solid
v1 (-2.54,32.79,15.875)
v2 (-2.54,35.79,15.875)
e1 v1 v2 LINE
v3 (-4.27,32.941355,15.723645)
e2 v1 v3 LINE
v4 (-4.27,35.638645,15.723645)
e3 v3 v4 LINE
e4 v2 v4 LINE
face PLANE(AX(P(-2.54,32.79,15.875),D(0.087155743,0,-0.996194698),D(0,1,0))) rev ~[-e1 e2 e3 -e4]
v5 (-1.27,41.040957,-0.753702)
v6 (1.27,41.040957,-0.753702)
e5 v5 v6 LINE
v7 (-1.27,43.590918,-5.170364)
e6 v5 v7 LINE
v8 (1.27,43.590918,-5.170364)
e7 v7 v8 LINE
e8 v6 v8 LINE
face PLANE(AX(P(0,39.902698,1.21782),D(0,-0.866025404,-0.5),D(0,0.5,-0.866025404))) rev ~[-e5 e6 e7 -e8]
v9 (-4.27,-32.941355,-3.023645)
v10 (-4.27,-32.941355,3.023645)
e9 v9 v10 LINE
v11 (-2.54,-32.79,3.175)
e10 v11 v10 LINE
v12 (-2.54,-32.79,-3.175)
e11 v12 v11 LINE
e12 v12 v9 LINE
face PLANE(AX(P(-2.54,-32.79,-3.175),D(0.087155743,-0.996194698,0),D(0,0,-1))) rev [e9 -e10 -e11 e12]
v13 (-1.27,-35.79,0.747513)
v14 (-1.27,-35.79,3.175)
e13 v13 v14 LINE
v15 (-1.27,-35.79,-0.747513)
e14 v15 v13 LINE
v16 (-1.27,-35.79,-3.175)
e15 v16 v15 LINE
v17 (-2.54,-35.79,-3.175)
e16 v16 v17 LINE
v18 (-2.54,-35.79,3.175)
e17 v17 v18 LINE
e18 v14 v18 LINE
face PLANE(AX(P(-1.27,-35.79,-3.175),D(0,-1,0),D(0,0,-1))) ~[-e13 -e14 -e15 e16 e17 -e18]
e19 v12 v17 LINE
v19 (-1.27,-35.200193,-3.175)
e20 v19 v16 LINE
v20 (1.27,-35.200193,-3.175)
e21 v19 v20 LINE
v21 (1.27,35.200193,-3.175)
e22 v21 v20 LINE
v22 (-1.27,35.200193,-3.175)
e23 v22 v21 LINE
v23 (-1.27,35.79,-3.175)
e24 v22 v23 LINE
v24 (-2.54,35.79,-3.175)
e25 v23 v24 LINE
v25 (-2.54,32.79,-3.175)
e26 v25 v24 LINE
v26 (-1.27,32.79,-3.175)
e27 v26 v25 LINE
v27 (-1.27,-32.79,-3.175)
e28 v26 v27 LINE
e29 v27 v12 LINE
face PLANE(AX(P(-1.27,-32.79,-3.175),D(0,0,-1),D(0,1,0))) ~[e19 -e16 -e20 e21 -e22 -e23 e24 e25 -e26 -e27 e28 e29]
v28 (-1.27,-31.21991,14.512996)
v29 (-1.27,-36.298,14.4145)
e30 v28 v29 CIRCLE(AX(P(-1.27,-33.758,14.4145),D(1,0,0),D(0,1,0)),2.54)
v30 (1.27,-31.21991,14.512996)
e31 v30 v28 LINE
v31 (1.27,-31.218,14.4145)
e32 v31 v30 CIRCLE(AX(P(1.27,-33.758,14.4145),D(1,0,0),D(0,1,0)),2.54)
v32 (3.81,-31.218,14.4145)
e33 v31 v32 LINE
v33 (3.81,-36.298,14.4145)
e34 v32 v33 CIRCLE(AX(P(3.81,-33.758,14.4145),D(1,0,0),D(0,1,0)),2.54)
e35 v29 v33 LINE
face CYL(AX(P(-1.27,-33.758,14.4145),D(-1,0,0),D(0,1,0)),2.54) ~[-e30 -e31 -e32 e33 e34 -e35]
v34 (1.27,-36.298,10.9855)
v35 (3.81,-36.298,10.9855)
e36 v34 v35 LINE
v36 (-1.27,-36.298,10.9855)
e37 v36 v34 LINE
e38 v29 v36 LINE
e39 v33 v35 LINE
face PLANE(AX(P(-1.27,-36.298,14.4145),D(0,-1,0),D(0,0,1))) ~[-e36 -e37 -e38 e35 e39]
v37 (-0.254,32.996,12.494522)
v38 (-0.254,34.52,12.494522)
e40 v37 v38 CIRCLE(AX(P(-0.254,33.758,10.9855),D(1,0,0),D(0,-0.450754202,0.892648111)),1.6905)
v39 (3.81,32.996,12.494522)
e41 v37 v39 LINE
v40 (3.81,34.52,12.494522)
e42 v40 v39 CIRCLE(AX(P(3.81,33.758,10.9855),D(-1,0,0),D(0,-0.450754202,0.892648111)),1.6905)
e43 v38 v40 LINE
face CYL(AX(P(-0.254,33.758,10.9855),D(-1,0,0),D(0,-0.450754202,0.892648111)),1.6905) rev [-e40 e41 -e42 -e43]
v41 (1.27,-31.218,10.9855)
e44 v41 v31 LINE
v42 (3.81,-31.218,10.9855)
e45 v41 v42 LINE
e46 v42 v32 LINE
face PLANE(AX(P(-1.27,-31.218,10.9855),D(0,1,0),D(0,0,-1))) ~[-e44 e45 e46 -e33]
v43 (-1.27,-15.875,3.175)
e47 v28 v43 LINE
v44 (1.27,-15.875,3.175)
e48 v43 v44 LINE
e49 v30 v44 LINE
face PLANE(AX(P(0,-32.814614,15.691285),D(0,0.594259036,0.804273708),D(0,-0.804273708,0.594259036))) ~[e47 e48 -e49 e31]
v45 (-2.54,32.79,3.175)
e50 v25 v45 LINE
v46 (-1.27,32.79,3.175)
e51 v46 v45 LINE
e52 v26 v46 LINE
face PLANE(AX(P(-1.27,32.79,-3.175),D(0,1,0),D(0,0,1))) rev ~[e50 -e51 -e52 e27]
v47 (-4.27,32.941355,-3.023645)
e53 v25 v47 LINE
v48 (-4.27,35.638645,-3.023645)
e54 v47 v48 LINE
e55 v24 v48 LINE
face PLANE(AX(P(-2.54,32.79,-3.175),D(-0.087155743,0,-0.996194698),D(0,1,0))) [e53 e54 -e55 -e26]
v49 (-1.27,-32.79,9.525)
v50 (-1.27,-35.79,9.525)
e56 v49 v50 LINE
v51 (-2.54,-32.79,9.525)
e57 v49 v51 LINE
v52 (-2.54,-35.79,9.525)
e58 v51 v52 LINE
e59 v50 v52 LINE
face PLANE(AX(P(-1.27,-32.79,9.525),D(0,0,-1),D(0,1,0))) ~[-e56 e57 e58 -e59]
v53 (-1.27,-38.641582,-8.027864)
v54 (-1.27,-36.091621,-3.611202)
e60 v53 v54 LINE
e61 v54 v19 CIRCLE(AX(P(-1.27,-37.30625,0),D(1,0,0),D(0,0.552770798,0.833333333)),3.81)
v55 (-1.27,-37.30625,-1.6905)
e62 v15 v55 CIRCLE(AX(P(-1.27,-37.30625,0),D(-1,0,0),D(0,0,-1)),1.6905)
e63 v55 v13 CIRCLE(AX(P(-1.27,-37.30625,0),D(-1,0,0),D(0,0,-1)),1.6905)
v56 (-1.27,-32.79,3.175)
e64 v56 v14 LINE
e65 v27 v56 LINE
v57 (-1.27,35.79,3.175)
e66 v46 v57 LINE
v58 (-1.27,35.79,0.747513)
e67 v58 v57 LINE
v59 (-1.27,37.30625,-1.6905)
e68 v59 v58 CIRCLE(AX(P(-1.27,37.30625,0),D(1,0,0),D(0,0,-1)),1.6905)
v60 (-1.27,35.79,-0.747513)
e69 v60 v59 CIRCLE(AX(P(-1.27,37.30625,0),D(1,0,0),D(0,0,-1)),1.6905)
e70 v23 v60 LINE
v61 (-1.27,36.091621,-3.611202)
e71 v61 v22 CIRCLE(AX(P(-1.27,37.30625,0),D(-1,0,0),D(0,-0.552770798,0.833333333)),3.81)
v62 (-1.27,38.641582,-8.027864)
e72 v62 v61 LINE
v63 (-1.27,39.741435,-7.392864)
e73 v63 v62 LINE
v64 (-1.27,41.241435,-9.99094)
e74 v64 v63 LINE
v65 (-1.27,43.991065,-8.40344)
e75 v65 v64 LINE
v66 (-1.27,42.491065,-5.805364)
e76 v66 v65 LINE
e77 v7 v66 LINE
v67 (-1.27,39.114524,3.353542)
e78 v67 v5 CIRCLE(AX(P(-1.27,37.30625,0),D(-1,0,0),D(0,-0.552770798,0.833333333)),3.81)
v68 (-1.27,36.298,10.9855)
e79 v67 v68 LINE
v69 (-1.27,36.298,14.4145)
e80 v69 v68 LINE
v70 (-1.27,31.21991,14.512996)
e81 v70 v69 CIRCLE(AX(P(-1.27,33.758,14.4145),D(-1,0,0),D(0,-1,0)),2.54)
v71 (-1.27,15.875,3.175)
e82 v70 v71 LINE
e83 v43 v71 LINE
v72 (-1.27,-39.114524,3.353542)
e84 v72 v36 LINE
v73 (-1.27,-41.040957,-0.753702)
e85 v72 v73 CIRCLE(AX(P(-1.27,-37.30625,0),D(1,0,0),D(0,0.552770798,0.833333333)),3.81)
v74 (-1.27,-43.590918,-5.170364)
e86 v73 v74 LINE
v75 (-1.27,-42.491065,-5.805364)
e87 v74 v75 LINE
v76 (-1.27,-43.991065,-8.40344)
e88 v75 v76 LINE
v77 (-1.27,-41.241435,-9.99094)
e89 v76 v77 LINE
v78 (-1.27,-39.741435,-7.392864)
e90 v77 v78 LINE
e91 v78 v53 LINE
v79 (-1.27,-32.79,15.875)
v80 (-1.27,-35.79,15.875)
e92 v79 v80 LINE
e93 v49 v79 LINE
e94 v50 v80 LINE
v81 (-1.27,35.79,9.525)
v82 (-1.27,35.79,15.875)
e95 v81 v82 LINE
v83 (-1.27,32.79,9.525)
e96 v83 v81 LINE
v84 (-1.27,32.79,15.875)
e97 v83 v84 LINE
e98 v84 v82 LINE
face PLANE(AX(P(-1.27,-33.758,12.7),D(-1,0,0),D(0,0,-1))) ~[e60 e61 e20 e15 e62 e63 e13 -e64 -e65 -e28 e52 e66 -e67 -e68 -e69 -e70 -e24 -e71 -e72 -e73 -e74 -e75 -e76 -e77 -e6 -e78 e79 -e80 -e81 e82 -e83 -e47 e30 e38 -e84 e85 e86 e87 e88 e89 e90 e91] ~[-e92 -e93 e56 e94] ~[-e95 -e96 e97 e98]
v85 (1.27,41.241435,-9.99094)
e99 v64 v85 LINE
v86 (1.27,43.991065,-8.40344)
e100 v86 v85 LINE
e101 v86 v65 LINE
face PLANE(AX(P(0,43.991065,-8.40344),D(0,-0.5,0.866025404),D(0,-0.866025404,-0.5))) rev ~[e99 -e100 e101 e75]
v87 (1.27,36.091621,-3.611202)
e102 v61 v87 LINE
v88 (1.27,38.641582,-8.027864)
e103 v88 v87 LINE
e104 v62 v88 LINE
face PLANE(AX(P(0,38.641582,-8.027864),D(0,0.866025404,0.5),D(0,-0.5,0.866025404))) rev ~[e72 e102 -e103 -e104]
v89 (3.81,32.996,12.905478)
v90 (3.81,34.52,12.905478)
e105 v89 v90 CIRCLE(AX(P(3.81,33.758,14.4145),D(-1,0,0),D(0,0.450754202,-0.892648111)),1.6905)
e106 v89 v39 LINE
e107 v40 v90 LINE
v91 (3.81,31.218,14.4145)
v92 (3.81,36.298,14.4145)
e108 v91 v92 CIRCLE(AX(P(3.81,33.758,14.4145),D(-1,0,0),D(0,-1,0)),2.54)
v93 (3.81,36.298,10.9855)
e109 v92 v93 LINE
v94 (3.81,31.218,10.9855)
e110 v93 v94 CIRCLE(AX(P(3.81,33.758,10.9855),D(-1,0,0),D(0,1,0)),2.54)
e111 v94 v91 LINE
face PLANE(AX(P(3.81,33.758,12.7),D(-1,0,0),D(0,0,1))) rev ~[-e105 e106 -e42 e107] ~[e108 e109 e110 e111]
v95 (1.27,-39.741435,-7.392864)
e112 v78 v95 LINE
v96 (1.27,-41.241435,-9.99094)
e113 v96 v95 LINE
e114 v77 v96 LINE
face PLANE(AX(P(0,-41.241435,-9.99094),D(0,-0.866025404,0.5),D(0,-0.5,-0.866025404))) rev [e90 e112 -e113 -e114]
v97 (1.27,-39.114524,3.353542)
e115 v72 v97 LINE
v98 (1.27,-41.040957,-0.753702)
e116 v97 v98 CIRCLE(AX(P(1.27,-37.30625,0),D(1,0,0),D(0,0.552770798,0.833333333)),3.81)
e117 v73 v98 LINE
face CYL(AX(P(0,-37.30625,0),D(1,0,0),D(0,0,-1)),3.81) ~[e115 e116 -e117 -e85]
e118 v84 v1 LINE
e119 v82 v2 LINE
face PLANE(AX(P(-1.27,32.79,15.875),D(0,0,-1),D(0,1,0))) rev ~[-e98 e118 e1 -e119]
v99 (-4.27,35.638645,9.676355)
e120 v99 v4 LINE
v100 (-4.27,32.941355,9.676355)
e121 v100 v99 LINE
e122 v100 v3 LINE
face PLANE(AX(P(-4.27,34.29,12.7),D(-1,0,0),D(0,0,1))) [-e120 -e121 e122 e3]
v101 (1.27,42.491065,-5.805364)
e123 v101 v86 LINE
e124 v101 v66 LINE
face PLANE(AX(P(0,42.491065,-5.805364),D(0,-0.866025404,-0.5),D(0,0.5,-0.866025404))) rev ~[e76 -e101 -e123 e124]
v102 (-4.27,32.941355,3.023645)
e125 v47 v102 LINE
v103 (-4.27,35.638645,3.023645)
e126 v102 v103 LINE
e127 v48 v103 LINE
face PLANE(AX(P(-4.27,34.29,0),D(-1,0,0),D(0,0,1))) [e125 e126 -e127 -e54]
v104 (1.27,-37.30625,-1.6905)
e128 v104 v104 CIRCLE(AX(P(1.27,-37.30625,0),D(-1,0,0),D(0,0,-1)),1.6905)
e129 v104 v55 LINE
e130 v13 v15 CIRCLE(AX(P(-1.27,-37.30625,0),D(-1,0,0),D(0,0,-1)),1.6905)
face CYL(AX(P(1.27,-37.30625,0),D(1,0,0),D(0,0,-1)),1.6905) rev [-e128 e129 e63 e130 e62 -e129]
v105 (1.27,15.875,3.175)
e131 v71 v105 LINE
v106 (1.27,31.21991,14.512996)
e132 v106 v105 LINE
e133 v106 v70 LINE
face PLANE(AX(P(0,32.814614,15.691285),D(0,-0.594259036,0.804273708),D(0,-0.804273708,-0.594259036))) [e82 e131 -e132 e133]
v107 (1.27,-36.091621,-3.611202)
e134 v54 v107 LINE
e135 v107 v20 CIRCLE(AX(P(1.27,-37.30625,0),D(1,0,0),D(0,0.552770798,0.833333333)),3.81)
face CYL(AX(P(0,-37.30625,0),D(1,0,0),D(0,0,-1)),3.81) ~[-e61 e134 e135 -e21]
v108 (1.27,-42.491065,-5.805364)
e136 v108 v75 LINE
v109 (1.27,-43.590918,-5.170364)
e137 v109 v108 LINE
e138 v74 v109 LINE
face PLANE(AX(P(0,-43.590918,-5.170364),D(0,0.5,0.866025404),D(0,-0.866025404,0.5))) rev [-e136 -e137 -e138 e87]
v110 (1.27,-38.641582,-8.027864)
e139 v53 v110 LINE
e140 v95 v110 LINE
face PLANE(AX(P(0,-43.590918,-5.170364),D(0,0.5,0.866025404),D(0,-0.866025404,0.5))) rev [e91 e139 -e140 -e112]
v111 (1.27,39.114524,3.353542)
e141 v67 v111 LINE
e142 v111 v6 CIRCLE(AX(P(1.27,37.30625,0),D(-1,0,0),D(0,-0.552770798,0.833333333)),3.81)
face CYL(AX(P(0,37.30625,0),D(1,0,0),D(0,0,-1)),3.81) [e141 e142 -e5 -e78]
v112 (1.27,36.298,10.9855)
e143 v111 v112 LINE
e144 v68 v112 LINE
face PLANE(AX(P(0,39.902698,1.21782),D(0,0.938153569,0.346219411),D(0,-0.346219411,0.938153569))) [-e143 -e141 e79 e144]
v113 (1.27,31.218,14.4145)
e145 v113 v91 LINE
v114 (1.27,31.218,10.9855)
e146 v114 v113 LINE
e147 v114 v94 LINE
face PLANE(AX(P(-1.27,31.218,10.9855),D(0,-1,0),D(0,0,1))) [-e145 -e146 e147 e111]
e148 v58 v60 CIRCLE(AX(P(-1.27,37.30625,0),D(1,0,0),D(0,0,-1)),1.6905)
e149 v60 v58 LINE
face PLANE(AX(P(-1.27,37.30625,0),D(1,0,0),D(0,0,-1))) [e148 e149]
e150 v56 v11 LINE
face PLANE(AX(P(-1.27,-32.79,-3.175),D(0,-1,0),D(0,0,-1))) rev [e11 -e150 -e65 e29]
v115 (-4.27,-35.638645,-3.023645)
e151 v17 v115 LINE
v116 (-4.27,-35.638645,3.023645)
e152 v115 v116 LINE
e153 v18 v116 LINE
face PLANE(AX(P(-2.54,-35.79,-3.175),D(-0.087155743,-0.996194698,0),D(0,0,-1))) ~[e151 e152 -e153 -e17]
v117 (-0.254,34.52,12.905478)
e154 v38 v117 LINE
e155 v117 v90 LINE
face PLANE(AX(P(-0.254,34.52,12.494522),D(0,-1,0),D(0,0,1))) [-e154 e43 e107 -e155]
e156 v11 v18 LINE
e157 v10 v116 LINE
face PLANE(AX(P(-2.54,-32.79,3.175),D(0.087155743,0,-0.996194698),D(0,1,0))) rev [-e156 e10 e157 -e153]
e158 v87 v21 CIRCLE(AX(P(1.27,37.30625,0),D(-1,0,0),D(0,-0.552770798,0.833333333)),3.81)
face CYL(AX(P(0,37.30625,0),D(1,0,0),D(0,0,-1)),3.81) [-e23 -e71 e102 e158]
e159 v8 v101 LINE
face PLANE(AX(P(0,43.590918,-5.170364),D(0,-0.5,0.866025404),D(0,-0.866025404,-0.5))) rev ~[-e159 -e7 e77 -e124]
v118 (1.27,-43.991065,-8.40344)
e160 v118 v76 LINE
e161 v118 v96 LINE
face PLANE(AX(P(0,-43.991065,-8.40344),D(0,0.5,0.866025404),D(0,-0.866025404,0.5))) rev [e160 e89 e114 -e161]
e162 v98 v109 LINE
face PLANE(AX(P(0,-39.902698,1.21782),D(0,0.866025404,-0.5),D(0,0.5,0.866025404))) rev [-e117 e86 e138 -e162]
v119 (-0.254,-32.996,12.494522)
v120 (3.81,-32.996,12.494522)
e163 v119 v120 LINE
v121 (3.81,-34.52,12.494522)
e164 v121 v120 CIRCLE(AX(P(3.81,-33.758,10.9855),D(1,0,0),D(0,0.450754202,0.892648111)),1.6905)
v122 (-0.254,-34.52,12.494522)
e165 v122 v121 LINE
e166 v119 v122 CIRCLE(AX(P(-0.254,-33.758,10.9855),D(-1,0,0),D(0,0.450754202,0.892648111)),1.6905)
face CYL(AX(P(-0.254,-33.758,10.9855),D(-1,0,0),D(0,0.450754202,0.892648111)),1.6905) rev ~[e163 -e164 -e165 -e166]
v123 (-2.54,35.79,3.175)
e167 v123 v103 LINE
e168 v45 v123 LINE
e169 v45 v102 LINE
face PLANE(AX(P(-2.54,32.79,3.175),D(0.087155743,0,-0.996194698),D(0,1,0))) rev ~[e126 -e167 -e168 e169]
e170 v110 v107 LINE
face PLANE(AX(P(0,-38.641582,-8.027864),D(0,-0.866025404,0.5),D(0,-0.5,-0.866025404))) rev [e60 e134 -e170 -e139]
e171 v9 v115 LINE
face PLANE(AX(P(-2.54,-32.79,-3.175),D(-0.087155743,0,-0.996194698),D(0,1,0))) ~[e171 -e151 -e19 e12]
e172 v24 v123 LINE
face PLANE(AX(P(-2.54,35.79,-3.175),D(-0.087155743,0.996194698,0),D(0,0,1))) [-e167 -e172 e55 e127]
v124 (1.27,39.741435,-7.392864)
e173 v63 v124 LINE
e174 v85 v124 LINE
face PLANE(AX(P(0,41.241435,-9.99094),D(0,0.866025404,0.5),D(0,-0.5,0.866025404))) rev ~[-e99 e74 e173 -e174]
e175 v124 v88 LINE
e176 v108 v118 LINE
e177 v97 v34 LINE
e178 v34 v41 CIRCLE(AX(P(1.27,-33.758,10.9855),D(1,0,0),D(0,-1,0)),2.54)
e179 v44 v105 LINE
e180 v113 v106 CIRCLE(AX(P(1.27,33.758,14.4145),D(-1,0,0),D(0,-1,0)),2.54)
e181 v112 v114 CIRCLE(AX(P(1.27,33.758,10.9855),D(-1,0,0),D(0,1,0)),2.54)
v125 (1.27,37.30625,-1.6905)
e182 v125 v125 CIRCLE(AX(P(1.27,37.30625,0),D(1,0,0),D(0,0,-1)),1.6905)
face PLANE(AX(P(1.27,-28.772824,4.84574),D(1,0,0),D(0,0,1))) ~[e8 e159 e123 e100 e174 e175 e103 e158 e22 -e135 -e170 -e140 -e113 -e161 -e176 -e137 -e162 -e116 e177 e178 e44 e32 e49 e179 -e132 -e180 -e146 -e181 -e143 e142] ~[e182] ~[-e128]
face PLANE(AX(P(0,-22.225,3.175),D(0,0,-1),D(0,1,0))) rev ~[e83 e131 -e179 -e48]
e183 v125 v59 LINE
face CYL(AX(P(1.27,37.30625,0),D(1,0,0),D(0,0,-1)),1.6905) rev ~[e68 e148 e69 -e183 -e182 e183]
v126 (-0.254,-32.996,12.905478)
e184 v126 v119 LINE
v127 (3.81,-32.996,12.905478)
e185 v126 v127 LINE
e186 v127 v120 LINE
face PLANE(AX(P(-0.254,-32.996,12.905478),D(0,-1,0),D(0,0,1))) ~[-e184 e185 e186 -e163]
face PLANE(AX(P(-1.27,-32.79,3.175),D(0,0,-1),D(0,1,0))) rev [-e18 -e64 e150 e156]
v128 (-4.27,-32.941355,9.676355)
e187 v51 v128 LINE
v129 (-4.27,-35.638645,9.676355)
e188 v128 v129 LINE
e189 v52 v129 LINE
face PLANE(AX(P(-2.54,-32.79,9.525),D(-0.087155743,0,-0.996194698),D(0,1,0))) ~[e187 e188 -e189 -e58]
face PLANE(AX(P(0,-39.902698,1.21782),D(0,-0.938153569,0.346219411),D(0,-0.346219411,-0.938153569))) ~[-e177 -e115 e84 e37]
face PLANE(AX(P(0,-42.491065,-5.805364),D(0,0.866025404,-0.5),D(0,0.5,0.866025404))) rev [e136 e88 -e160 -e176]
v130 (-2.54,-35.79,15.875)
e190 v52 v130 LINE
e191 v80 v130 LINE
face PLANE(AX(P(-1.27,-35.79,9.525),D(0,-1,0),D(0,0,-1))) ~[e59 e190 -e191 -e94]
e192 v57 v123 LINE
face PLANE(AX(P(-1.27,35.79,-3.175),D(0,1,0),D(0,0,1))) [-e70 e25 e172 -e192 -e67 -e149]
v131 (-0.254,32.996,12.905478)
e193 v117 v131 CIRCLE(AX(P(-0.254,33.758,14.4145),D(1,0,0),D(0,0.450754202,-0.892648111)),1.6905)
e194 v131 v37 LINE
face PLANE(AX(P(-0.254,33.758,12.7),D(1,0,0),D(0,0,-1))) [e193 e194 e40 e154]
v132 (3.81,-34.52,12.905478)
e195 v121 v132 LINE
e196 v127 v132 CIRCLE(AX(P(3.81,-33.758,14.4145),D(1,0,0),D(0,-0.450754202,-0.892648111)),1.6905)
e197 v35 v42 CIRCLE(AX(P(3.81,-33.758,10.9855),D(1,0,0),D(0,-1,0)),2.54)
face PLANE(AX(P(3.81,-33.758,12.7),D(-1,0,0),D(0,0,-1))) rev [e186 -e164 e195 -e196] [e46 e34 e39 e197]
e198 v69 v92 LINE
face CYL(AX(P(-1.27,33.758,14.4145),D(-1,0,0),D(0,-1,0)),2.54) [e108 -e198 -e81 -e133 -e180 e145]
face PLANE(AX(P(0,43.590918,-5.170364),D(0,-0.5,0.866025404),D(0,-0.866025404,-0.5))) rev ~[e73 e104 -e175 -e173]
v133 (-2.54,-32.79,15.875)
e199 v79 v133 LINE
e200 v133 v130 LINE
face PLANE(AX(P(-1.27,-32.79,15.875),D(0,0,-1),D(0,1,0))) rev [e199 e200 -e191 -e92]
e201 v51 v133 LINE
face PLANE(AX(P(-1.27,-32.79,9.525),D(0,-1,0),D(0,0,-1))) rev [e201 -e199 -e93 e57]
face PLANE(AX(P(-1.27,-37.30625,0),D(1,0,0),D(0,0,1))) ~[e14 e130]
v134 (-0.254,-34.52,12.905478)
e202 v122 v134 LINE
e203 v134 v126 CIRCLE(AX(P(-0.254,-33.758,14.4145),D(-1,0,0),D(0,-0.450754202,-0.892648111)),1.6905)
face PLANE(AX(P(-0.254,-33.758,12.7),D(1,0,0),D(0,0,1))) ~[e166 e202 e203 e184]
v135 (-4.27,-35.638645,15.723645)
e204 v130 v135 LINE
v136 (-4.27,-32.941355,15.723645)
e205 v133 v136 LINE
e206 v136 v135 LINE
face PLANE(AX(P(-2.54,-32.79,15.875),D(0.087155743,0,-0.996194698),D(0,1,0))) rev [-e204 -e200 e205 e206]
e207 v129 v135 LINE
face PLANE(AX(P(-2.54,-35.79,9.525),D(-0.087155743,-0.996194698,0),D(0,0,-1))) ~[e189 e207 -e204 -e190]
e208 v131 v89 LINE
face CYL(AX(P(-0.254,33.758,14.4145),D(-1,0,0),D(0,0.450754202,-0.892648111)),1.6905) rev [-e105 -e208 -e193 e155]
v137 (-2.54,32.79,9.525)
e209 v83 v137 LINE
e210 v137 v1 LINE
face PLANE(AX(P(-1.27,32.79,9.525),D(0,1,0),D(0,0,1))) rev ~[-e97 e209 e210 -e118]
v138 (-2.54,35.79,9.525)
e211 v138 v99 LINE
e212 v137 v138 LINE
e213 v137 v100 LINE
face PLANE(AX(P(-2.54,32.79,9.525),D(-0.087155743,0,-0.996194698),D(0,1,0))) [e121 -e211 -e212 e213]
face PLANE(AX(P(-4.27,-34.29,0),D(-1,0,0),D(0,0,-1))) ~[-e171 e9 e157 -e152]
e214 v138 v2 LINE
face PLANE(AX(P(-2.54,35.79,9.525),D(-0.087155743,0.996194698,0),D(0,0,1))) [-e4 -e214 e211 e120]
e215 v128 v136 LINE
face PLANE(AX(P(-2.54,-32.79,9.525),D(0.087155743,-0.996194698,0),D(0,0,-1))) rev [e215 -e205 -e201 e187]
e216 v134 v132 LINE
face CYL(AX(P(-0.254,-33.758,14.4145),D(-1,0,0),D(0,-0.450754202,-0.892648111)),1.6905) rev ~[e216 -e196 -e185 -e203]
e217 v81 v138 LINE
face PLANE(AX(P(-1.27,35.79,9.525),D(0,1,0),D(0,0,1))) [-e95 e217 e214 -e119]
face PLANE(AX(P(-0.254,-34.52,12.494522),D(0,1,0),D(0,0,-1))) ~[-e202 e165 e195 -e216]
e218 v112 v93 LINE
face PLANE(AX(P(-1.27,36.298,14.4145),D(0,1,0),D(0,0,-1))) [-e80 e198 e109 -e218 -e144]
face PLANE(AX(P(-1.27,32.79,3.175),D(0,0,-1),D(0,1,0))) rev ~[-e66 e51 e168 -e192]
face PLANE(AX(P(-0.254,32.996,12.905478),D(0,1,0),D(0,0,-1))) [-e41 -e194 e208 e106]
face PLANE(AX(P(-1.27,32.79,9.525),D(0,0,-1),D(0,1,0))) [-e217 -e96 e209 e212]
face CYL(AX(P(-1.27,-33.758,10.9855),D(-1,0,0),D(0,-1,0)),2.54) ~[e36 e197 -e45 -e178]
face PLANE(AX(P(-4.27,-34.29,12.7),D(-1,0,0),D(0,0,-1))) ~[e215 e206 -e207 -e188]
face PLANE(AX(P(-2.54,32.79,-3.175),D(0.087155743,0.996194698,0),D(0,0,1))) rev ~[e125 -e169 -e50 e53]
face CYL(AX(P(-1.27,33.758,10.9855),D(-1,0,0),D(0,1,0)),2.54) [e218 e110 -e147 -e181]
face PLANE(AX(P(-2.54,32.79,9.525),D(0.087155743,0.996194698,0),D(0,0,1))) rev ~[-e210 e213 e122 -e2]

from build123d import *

# Parameters (mm, degrees)
SKETCH3_R                   = 3.81
DOWELSUPPORT_DEPTH          = 1.27
SKETCH5_W                   = 6.35
SKETCH5_H                   = 44.45
SLIDERDOWELSUPPORT_DEPTH    = 1.27
LATERALSUPPORT_DEPTH        = 1.27
SKETCH8_W                   = 6.35
SKETCH8_H                   = 3
TABSUPPORT_DEPTH            = 1.27
STRINGDOWELSUPPORT_START    = -1.27
STRINGDOWELSUPPORT_DEPTH    = 5.08
INTERSUPPORT_DEPTH          = 1.27
SKETCH10_W                  = 6.35
SKETCH10_H                  = 3
TABBASE_DEPTH               = 1.27
SKETCH12_W                  = 6.35
SKETCH12_H                  = 3
TABDRAFT_DEPTH              = 1.73
TABDRAFT_DRAFT              = 5
TABDRAFT_PROFILE_2_DEPTH    = 1.73
TABDRAFT_PROFILE_2_DRAFT    = 5
STRINGDOWELHOLES_DEPTH      = 48.469574456
STRINGDOWELHOLES_DEPTH_BACK = 1.524
SKETCH14_R                  = 1.690500048
PULLEYDOWELHOLE_DEPTH       = 2.54


with BuildPart() as part:
    # Sketch3 → DowelSupport (new, symmetric)
    with BuildSketch(Plane(origin=(0, 0, 0), x_dir=(0, 0, -1), z_dir=(1, 0, 0))):
        with Locations((0, 37.30625)):
            Circle(SKETCH3_R)
    extrude(amount=DOWELSUPPORT_DEPTH, both=True)

    # Sketch8 → TabSupport (add, symmetric)
    with BuildSketch(Plane(origin=(0, 0, 0), x_dir=(0, 0, -1), z_dir=(1, 0, 0))):
        with Locations((0, 34.29)):
            Rectangle(SKETCH8_W, SKETCH8_H)
        with Locations((-12.7, 34.29)):
            Rectangle(SKETCH8_W, SKETCH8_H)
    extrude(amount=TABSUPPORT_DEPTH, both=True)


with BuildPart() as body_2:
    # Sketch5 → SliderDowelSupport (new, symmetric)
    with BuildSketch(Plane(origin=(0, 0, 0), x_dir=(0, 0, -1), z_dir=(1, 0, 0))):
        Rectangle(SKETCH5_W, SKETCH5_H)
    extrude(amount=SLIDERDOWELSUPPORT_DEPTH, both=True)



with BuildPart() as body_3:
    # Sketch6 → LateralSupport (new, symmetric)
    with BuildSketch(Plane(origin=(0, 0, 0), x_dir=(0, 0, -1), z_dir=(1, 0, 0))):
        Polygon((7.392863577, 39.741434671), (5.805363577, 42.491065329), (8.403439788, 43.991065329), (9.990939788, 41.241434671), align=None)
    extrude(amount=LATERALSUPPORT_DEPTH, both=True)


with BuildPart() as tabsupport_piece_1:
    # of the separate pieces the step leaves, piece 1, a body of its own (tabsupport_pieces)
    add(part.part.solids().sort_by_distance((1.27, 35.200193258, 3.175))[0])


with BuildPart() as tabsupport_piece_2:
    # of the separate pieces the step leaves, piece 2, a body of its own (tabsupport_pieces)
    add(part.part.solids().sort_by_distance((-1.27, 32.79, 9.525))[0])

    # Sketch15 → StringDowelSupport (add)
    with BuildSketch(Plane(origin=(0, 0, 0), x_dir=(0, 0, -1), z_dir=(1, 0, 0)).offset(STRINGDOWELSUPPORT_START)):
        with BuildLine():
            Line((-14.4145, 36.298), (-10.9855, 36.298))
            ThreePointArc((-10.9855, 36.298), (-8.4455, 33.758), (-10.9855, 31.218))
            Line((-10.9855, 31.218), (-14.4145, 31.218))
            ThreePointArc((-14.4145, 31.218), (-16.9545, 33.758), (-14.4145, 36.298))
        make_face()
    extrude(amount=STRINGDOWELSUPPORT_DEPTH)


with BuildPart() as body_2_1:
    add(body_2.part)

    add(body_3.part)  # InterSupport merges body 3

    add(tabsupport_piece_1.part)  # InterSupport merges TabSupport piece 1

    add(tabsupport_piece_2.part)  # InterSupport merges TabSupport piece 2
    # Sketch7 → InterSupport (add, symmetric)
    with BuildSketch(Plane(origin=(0, 0, 0), x_dir=(0, 0, -1), z_dir=(1, 0, 0))):
        Polygon((-15.691284512, 32.81461378), (-3.175, 15.875), (-3.175, 22.225), (3.175, 22.225), (3.175, 32.79), (0.989321966, 34.625476176), (-0.989321966, 39.987023824), (-10.9855, 36.298), (-14.4145, 36.298), align=None)
        Polygon((5.170363577, 43.590917591), (8.027863577, 38.641582409), (1.42875, 34.831582409), (-1.42875, 39.780917591), align=None)
    extrude(amount=INTERSUPPORT_DEPTH, both=True)

    # Sketch10 → TabBase (add)
    with BuildSketch(Plane.ZY.offset(1.27)):
        with Locations((0, 34.29)):
            Rectangle(SKETCH10_W, SKETCH10_H)
        with Locations((12.7, 34.29)):
            Rectangle(SKETCH10_W, SKETCH10_H)
    extrude(amount=TABBASE_DEPTH)


with BuildPart() as tabdraft_tool:
    # Sketch12 → TabDraft (with draft: the straight prism first)
    with BuildSketch(Plane.ZY.offset(2.54)):
        with Locations((0, 34.29)):
            Rectangle(SKETCH12_W, SKETCH12_H)
    extrude(amount=TABDRAFT_DEPTH)
    # TabDraft: the draft: its side faces are tilted about the plane it starts from
    tabdraft_sides = [tabdraft_tool.faces().sort_by_distance(p)[0] for p in [
        (-3.405, 34.29, 3.175),
        (-3.405, 35.79, 0),
        (-3.405, 34.29, -3.175),
        (-3.405, 32.79, 0),
    ]]
    draft(tabdraft_sides, Plane.ZY.offset(2.54), TABDRAFT_DRAFT)


with BuildPart() as body_2_2:
    add(body_2_1.part)

    # TabDraft: add tabdraft_tool
    add(tabdraft_tool.part)


with BuildPart() as tabdraft_profile_2_tool:
    # Sketch12 → TabDraft profile 2 (with draft: the straight prism first)
    with BuildSketch(Plane.ZY.offset(2.54)):
        with Locations((12.7, 34.29)):
            Rectangle(SKETCH12_W, SKETCH12_H)
    extrude(amount=TABDRAFT_PROFILE_2_DEPTH)
    # TabDraft profile 2: the draft: its side faces are tilted about the plane it starts from
    tabdraft_profile_2_sides = [tabdraft_profile_2_tool.faces().sort_by_distance(p)[0] for p in [
        (-3.405, 34.29, 9.525),
        (-3.405, 32.79, 12.7),
        (-3.405, 34.29, 15.875),
        (-3.405, 35.79, 12.7),
    ]]
    draft(tabdraft_profile_2_sides, Plane.ZY.offset(2.54), TABDRAFT_PROFILE_2_DRAFT)


with BuildPart() as body_2_3:
    add(body_2_2.part)

    # TabDraft profile 2: add tabdraft_profile_2_tool
    add(tabdraft_profile_2_tool.part)

    # Sketch16 → StringDowelHoles (cut, two sides: drawn at the far end of the back side and taken through both)
    with BuildSketch(Plane(origin=(1.27, 0, 0), x_dir=(0, 0, -1), z_dir=(1, 0, 0)).offset(-STRINGDOWELHOLES_DEPTH_BACK)):
        with BuildLine():
            Line((-12.905478326, 32.996), (-12.494521674, 32.996))
            ThreePointArc((-12.494521674, 32.996), (-9.294999952, 33.758), (-12.494521674, 34.52))
            Line((-12.494521674, 34.52), (-12.905478326, 34.52))
            ThreePointArc((-12.905478326, 34.52), (-16.105000048, 33.758), (-12.905478326, 32.996))
        make_face()
    extrude(amount=STRINGDOWELHOLES_DEPTH + STRINGDOWELHOLES_DEPTH_BACK, mode=Mode.SUBTRACT)

    # Sketch14 → PulleyDowelHole (cut)
    with BuildSketch(Plane(origin=(1.27, 0, 0), x_dir=(0, 0, -1), z_dir=(1, 0, 0))):
        with Locations((0, 37.30625)):
            Circle(SKETCH14_R)
    extrude(amount=-PULLEYDOWELHOLE_DEPTH, mode=Mode.SUBTRACT)

    # Mirror1: body 2 across plane


with BuildPart() as body_2_4:
    add(body_2_3.part)
    add(body_2_3.part.mirror(Plane.ZX))


solid = body_2_4.part
